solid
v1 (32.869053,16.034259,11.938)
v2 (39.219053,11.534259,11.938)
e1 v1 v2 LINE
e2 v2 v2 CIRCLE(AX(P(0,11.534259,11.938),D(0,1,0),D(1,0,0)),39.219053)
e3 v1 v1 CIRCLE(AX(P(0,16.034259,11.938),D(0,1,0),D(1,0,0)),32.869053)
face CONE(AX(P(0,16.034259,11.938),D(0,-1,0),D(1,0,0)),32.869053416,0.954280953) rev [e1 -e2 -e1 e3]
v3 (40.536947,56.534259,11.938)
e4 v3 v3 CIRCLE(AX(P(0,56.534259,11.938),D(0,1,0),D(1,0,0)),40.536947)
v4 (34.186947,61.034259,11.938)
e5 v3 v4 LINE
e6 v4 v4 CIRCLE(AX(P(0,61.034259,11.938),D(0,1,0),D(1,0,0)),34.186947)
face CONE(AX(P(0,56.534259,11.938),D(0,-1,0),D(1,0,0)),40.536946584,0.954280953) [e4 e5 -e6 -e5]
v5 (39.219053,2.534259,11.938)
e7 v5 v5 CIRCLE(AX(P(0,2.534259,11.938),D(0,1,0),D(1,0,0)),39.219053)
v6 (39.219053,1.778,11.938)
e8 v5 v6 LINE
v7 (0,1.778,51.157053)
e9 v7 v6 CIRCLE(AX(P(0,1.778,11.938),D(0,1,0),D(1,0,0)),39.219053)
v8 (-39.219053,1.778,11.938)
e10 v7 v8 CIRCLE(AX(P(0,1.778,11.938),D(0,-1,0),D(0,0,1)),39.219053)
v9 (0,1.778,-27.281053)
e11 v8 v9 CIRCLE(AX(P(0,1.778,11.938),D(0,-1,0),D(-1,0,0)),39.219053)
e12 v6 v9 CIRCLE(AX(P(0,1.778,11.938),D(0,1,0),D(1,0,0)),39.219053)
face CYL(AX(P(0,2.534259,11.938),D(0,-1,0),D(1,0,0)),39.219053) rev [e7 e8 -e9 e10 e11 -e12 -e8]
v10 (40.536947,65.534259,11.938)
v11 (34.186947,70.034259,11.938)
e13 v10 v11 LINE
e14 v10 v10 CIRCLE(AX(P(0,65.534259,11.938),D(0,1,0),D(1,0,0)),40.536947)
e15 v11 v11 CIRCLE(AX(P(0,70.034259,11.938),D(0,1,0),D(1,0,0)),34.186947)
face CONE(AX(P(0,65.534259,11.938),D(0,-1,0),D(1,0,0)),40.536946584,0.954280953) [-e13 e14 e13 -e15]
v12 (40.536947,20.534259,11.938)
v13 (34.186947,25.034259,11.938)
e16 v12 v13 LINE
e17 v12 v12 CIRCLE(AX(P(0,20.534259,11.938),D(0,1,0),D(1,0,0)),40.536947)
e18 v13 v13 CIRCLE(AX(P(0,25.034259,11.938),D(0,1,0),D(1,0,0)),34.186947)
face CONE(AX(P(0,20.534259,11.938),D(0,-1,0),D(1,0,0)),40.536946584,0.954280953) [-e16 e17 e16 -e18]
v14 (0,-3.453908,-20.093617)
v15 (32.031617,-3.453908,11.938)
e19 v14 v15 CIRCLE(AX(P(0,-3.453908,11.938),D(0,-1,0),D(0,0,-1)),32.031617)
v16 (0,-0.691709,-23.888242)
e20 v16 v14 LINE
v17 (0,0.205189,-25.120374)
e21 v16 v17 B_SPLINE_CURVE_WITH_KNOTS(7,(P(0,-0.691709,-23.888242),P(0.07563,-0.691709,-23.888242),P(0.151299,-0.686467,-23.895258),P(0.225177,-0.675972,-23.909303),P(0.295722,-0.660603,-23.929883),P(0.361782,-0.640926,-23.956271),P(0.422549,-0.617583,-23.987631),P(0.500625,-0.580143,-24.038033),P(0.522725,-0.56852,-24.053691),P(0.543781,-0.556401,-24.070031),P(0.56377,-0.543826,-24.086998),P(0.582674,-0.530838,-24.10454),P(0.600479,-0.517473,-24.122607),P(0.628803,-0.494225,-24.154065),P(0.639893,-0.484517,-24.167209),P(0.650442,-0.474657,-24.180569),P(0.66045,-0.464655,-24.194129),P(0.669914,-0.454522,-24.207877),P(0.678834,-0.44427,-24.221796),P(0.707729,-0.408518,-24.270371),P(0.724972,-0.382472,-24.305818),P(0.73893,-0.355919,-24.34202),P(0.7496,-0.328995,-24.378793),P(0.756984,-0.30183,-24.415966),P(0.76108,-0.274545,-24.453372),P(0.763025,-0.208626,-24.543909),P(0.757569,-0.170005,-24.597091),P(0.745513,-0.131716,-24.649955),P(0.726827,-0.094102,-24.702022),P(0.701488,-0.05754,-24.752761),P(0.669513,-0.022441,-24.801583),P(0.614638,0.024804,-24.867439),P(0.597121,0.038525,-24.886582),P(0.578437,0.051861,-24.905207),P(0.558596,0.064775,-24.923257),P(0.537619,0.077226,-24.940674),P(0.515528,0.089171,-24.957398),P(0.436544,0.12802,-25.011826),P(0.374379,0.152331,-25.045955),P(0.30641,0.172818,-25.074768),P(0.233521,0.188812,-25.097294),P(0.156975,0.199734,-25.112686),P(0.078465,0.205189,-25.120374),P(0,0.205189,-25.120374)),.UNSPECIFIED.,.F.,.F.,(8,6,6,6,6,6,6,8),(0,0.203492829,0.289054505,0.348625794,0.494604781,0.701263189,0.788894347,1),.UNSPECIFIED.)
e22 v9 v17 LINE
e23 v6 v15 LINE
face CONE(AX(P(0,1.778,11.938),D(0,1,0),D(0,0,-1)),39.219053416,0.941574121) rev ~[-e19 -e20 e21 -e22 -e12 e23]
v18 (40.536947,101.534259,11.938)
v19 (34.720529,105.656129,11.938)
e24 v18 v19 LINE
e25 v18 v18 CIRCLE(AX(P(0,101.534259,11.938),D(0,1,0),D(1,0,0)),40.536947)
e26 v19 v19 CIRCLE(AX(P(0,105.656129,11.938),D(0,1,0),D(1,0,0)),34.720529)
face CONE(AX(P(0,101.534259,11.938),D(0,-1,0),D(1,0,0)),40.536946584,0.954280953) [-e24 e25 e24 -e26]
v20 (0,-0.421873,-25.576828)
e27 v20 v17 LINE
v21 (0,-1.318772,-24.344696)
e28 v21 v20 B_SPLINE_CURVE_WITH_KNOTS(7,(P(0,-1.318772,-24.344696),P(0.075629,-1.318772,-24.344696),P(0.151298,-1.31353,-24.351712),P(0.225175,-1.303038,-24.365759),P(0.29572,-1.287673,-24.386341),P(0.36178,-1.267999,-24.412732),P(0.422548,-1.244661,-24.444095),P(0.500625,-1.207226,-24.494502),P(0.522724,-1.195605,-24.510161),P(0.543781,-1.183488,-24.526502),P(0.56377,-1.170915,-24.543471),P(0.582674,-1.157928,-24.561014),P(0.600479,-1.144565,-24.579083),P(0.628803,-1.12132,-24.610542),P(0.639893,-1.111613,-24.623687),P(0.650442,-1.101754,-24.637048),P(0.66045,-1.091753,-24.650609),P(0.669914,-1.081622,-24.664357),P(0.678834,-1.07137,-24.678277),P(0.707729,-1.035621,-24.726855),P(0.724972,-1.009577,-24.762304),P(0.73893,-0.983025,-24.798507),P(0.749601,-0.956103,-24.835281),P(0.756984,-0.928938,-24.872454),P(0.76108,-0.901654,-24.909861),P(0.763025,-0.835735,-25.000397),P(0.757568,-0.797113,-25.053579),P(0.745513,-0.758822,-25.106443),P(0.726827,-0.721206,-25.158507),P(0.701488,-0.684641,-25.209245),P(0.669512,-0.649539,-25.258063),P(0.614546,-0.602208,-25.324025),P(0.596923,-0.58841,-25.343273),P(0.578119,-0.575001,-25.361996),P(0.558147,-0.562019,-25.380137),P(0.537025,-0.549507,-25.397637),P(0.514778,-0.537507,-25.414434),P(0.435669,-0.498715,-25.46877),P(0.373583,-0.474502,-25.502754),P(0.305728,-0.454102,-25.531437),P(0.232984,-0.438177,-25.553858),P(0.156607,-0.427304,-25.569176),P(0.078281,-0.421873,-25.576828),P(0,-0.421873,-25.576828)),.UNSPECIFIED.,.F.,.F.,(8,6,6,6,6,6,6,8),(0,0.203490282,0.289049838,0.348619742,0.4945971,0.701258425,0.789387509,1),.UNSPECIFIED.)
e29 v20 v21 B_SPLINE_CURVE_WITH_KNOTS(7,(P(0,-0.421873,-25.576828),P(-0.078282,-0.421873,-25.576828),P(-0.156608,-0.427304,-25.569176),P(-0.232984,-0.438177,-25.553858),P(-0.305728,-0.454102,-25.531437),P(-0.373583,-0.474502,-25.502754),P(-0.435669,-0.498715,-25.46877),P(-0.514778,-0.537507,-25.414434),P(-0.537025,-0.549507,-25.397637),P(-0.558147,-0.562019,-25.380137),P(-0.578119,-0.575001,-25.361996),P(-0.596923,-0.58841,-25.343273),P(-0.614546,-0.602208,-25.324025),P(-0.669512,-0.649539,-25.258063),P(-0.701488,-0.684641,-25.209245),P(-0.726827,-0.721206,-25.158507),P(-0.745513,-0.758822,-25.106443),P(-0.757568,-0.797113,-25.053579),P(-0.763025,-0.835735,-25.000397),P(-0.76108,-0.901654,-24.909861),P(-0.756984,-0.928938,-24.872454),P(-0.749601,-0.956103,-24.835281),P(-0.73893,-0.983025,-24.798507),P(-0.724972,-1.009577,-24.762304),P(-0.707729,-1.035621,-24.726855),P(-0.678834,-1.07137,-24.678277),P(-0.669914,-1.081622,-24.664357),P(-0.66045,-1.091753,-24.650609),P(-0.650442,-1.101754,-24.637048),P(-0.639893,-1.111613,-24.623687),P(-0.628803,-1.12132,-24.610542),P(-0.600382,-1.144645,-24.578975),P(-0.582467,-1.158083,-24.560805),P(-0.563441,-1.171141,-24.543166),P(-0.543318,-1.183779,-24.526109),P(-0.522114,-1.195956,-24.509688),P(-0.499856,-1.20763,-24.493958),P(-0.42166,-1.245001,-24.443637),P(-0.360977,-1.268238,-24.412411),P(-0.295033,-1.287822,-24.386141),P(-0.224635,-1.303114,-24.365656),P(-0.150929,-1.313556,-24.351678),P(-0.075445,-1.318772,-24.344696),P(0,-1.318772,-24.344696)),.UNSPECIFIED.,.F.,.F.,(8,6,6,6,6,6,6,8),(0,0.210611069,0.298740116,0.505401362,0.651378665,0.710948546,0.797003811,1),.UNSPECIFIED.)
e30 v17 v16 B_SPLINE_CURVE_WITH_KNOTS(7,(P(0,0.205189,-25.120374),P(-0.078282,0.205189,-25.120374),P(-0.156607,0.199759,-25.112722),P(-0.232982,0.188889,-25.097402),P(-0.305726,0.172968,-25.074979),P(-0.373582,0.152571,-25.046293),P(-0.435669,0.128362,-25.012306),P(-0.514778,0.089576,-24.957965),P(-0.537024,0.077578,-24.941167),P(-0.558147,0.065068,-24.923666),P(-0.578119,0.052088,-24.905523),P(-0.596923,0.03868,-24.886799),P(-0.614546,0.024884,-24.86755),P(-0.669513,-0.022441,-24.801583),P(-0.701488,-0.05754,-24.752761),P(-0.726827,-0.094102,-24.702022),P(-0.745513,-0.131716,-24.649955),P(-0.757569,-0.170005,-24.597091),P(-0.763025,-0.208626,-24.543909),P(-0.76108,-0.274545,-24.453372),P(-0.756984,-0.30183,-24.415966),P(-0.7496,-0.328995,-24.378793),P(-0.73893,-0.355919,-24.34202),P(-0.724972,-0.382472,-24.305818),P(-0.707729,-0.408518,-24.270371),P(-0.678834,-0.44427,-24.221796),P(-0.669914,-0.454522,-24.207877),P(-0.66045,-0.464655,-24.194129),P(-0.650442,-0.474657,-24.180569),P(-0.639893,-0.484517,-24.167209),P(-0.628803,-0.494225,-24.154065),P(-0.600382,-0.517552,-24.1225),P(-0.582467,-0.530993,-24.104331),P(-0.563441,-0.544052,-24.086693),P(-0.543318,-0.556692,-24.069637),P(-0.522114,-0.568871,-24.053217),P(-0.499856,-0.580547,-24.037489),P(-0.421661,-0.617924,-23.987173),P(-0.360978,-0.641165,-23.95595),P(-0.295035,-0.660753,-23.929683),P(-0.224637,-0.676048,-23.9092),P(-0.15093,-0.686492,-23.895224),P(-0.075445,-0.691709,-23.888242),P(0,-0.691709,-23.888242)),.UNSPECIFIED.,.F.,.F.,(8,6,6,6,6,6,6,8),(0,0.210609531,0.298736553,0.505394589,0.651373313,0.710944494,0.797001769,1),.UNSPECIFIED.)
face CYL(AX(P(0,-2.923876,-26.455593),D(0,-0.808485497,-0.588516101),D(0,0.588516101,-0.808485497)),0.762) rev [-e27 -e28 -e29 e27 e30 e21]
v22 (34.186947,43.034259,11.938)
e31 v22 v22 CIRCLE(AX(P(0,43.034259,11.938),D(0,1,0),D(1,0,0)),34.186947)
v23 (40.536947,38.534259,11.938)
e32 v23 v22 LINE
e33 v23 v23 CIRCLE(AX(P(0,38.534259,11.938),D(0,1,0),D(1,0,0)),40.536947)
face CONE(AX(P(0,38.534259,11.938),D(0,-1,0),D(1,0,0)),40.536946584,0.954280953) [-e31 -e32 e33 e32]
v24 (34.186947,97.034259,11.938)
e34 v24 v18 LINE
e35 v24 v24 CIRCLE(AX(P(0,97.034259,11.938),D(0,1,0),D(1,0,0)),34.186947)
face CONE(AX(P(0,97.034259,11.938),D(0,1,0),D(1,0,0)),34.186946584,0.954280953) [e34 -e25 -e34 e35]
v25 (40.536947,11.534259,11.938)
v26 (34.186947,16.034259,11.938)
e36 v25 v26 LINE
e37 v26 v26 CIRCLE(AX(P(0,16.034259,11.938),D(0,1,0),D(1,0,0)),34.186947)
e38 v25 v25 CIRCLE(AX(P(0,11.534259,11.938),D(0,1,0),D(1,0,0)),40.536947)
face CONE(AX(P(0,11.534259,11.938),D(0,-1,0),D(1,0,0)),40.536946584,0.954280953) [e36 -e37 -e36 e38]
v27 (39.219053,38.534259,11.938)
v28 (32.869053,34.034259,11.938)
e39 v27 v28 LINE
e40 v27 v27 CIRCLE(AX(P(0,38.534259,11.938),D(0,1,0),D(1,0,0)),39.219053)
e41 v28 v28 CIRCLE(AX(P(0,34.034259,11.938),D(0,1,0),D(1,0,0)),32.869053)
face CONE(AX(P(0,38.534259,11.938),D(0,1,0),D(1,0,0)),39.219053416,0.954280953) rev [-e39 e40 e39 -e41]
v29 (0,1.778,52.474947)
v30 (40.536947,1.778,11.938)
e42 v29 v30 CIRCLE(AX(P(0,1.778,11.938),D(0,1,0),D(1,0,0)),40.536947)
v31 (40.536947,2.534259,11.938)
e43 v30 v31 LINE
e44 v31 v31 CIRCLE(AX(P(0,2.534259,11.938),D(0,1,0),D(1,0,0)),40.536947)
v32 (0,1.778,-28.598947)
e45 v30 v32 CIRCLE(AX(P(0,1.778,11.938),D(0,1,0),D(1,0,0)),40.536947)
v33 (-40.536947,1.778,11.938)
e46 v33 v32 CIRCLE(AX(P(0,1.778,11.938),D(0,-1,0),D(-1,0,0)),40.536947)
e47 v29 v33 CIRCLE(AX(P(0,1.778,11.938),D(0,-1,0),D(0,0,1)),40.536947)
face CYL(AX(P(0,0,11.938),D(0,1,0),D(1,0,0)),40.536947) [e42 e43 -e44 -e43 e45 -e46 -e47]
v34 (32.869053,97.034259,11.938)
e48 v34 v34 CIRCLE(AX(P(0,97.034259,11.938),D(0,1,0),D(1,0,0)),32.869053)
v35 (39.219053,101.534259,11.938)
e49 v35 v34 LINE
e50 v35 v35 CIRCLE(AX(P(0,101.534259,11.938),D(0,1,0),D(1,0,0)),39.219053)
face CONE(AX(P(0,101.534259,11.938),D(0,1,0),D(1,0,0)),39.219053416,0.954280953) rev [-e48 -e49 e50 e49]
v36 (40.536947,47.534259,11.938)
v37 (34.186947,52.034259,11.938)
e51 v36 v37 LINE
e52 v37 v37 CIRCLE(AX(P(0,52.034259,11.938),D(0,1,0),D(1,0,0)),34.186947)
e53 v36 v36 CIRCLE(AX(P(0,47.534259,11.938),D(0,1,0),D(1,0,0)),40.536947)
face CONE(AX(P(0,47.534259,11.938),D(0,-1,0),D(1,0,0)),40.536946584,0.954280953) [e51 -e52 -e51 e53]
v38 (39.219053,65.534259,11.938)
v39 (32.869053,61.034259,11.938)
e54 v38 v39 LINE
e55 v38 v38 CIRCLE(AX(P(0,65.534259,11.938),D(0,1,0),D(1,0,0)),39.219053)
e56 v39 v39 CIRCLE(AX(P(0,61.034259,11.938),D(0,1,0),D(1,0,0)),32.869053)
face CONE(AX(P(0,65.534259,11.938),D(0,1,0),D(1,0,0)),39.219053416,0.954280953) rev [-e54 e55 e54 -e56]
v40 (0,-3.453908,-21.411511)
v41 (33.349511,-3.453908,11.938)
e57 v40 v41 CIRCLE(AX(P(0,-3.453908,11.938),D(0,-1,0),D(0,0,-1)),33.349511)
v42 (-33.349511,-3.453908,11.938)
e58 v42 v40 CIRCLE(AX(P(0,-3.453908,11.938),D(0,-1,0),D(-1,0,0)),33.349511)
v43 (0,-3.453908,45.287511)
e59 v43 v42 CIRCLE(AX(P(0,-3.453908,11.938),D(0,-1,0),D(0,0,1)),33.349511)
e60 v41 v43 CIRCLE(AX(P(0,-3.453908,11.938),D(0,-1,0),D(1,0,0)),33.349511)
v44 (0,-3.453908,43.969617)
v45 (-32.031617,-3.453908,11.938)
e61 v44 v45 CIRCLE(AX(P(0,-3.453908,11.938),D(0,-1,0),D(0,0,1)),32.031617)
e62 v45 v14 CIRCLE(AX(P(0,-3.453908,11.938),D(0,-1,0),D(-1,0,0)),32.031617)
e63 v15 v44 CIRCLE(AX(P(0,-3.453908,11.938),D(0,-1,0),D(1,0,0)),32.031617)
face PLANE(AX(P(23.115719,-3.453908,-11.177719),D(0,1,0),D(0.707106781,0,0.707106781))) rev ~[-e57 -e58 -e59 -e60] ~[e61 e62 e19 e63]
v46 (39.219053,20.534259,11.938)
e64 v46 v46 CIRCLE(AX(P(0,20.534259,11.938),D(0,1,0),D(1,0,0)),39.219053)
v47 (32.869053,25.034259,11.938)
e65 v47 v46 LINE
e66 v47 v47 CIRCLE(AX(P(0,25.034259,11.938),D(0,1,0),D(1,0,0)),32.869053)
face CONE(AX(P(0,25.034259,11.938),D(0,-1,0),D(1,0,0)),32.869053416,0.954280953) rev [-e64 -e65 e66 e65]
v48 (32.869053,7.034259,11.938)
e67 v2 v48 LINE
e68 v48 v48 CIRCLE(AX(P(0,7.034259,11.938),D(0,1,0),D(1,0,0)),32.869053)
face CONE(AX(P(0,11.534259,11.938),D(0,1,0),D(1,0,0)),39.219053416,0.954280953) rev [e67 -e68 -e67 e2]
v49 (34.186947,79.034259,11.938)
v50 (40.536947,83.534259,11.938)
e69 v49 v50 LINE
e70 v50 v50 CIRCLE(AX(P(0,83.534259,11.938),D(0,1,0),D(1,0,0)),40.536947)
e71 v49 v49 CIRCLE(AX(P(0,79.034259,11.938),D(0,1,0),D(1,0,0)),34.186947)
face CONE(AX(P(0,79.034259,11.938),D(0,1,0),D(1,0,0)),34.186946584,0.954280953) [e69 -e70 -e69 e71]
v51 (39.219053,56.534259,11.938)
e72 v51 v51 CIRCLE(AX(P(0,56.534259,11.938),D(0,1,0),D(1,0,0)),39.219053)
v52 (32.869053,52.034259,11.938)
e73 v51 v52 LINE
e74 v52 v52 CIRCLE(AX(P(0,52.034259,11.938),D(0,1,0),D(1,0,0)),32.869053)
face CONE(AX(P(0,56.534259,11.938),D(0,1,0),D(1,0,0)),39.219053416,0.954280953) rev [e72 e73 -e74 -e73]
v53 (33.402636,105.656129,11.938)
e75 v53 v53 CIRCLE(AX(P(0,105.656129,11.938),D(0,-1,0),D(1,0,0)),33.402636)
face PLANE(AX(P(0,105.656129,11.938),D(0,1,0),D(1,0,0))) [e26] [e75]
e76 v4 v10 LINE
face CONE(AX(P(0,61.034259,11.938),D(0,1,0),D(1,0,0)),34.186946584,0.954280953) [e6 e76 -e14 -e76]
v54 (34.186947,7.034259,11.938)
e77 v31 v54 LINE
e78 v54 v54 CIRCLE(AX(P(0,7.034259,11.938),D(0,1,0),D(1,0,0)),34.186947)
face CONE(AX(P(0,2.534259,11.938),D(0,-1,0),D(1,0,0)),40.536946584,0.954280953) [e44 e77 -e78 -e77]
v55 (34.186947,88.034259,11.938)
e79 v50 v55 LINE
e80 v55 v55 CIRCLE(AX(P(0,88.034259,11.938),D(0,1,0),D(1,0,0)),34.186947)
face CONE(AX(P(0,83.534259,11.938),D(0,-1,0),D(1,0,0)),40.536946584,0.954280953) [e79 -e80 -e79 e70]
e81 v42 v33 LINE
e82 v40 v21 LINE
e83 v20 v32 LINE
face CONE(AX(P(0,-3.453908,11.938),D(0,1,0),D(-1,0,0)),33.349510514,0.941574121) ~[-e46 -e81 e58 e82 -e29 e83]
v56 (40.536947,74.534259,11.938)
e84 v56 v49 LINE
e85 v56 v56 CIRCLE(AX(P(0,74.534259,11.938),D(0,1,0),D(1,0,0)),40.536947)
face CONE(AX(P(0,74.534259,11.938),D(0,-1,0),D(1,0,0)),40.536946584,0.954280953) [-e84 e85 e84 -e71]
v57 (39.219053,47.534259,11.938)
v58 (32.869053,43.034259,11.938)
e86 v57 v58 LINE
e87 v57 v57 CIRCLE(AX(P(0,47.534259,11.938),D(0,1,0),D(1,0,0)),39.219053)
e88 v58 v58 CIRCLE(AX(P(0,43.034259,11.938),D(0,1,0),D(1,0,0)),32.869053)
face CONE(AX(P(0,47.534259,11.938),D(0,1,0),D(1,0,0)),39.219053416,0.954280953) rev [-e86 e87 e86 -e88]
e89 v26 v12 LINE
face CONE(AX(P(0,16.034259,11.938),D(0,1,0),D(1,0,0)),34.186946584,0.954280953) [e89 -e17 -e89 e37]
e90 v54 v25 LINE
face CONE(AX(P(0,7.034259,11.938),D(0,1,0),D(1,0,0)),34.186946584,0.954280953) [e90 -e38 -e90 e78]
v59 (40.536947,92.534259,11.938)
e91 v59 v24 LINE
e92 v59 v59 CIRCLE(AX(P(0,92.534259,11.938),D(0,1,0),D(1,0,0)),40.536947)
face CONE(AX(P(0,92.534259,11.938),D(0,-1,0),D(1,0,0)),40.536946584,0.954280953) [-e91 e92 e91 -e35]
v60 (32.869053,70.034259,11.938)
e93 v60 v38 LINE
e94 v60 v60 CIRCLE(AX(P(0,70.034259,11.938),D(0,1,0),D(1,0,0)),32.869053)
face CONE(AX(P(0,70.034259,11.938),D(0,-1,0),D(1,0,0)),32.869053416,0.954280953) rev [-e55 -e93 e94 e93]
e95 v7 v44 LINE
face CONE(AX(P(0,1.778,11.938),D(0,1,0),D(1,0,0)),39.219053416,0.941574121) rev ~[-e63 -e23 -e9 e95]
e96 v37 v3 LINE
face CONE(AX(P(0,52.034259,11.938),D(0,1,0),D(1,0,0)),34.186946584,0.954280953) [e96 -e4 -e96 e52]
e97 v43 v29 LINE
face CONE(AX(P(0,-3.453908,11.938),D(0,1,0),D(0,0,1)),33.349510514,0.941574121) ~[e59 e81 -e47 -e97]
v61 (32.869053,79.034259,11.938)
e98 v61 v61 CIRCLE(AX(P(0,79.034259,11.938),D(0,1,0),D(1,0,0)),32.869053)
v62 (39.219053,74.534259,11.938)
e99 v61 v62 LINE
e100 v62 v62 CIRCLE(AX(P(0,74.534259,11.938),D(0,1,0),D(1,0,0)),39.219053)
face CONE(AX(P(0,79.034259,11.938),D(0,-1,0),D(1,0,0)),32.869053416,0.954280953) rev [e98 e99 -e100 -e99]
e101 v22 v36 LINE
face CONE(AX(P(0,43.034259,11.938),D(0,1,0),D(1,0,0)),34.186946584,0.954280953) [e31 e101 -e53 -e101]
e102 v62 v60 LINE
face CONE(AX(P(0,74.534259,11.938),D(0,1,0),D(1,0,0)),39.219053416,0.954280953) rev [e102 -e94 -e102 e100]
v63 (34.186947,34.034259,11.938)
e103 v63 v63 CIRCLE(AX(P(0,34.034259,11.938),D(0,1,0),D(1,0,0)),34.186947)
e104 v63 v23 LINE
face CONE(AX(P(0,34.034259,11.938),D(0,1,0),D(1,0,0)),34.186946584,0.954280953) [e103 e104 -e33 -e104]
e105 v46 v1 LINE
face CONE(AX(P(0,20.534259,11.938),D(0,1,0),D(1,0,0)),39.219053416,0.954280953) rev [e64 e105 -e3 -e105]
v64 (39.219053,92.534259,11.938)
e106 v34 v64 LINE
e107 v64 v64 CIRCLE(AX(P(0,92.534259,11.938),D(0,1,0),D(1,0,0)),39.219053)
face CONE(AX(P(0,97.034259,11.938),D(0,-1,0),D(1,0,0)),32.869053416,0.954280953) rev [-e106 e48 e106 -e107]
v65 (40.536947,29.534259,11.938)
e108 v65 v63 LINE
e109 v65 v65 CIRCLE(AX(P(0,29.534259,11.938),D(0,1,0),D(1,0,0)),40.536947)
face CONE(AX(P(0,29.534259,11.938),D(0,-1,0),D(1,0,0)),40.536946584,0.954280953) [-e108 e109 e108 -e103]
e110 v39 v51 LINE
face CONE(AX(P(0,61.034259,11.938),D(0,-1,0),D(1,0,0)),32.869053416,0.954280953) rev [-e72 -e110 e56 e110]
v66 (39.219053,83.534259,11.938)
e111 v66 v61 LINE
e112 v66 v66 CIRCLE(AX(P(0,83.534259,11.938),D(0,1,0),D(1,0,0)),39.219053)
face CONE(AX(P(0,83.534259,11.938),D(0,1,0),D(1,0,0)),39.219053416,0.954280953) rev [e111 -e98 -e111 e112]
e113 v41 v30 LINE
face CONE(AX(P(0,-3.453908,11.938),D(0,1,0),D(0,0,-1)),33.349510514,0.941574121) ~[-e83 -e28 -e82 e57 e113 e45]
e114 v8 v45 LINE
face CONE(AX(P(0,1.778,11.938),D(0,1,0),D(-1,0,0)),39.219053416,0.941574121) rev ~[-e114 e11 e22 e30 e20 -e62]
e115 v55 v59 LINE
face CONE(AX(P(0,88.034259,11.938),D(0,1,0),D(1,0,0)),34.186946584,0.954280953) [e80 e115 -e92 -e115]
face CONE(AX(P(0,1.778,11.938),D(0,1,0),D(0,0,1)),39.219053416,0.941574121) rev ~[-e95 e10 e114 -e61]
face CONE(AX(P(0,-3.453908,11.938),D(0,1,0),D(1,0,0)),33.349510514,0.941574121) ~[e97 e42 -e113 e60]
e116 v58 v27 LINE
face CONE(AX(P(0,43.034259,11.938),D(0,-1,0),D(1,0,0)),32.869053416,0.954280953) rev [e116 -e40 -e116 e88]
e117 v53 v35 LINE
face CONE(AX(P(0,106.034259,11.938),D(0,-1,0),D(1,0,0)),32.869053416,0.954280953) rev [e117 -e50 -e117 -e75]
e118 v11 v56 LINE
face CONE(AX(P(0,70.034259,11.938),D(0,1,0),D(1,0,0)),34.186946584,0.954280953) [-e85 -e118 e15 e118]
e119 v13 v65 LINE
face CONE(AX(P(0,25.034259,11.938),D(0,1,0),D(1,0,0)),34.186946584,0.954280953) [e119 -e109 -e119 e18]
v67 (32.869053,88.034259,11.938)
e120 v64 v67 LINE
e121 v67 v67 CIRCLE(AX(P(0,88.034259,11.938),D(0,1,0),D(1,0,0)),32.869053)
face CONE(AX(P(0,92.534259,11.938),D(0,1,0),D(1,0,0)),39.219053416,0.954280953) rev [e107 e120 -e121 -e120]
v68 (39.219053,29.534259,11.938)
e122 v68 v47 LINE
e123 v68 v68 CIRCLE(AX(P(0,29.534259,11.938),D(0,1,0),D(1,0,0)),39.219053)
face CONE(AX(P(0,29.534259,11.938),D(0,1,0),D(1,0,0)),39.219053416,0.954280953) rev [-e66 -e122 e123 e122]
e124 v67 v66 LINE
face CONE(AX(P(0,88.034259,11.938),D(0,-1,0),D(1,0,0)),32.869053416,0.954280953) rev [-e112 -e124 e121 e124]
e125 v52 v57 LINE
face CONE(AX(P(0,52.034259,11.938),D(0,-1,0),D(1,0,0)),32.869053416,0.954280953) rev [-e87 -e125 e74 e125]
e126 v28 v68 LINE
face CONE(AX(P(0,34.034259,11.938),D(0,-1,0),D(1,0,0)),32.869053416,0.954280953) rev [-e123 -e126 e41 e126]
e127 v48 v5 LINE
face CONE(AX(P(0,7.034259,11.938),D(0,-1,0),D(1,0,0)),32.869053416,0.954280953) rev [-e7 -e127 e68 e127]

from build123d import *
from build123d.topology import SkipClean

# Parameters (mm, degrees)
SKETCH1_R               = 1.016
SKETCH1_R_2             = 1.5875
SKETCH1_W               = 30.226
SKETCH1_H               = 1.016
BOSS_EXTRUDE1_DEPTH     = 1.778
CUT_EXTRUDE1_DEPTH      = 220.775953397
CUT_EXTRUDE1_DEPTH_BACK = 220.775953397
CUT_EXTRUDE2_DEPTH      = 2.54
CUT_EXTRUDE2_DEPTH_BACK = 2.54
SKETCH10_R              = 0.762
SKETCH13_R              = 43.703973106
CUT_EXTRUDE4_DEPTH      = 126


with BuildPart() as part:
    # Sketch1 → Boss-Extrude1 (new body)
    with BuildSketch(Plane(origin=(0, 0, 0), x_dir=(1, 0, 0), z_dir=(0, 1, 0))):
        with BuildLine():
            Line((19.797340731, -27.686), (33.875449694, -3.302))
            ThreePointArc((33.875449694, -3.302), (33.875449694, 19.558), (14.078108964, 30.988))
            Line((14.078108964, 30.988), (-14.078108964, 30.988))
            ThreePointArc((-14.078108964, 30.988), (-33.875449694, 19.558), (-33.875449694, -3.302))
            Line((-33.875449694, -3.302), (-19.797340731, -27.686))
            ThreePointArc((-19.797340731, -27.686), (0, -39.116), (19.797340731, -27.686))
        make_face()
        with Locations((0, 10.668)):
            Circle(SKETCH1_R, mode=Mode.SUBTRACT)
        with Locations((9.238759008, -5.334)):
            Circle(SKETCH1_R, mode=Mode.SUBTRACT)
        with Locations((-9.238759008, -5.334)):
            Circle(SKETCH1_R, mode=Mode.SUBTRACT)
        Circle(SKETCH1_R_2, mode=Mode.SUBTRACT)
        with Locations((0, 27.94)):
            Rectangle(SKETCH1_W, SKETCH1_H, mode=Mode.SUBTRACT)
        Polygon((32.193190687, -1.135758073), (31.313308877, -0.627758073), (16.200308877, -26.804241927), (17.080190687, -27.312241927), align=None, mode=Mode.SUBTRACT)
        Polygon((-17.080190687, -27.312241927), (-16.200308877, -26.804241927), (-31.313308877, -0.627758073), (-32.193190687, -1.135758073), align=None, mode=Mode.SUBTRACT)
    extrude(amount=BOSS_EXTRUDE1_DEPTH)

    # Sweep1: sweep along a path in Sketch3
    with BuildLine(Plane(origin=(0, 1.778, 0), x_dir=(1, 0, 0), z_dir=(0, 1, 0))) as sweep1_path:
        CenterArc((0, -11.938), 39.878, 0, 360)
    # Sketch4 → Sweep1 (sweep)
    with BuildSketch(Plane(origin=(0, 0, 0), x_dir=(0, 0, -1), z_dir=(1, 0, 0))):
        Polygon((28.598946584, 0), (28.598946584, 2.534258856), (22.248946584, 7.034258856), (28.598946584, 11.534258856), (22.248946584, 16.034258856), (28.598946584, 20.534258856), (22.248946584, 25.034258856), (28.598946584, 29.534258856), (22.248946584, 34.034258856), (28.598946584, 38.534258856), (22.248946584, 43.034258856), (28.598946584, 47.534258856), (22.248946584, 52.034258856), (28.598946584, 56.534258856), (22.248946584, 61.034258856), (28.598946584, 65.534258856), (22.248946584, 70.034258856), (28.598946584, 74.534258856), (22.248946584, 79.034258856), (28.598946584, 83.534258856), (22.248946584, 88.034258856), (28.598946584, 92.534258856), (22.248946584, 97.034258856), (28.598946584, 101.534258856), (22.248946584, 106.034258856), (28.598946584, 110.534258856), (22.248946584, 115.034258856), (28.598946584, 119.534258856), (22.248946584, 124.034258856), (28.598946584, 128.534258856), (22.248946584, 133.034258856), (28.598946584, 137.534258856), (22.248946584, 142.034258856), (28.598946584, 146.534258856), (22.248946584, 151.034258856), (28.598946584, 155.534258856), (22.248946584, 160.034258856), (28.598946584, 164.534258856), (22.248946584, 169.034258856), (28.598946584, 173.534258856), (22.248946584, 178.034258856), (28.598946584, 182.534258856), (22.248946584, 187.034258856), (28.598946584, 191.534258856), (22.248946584, 196.034258856), (28.598946584, 200.534258856), (22.248946584, 205.034258856), (28.598946584, 209.534258856), (27.281053416, 209.534258856), (20.931053416, 205.034258856), (27.281053416, 200.534258856), (20.931053416, 196.034258856), (27.281053416, 191.534258856), (20.931053416, 187.034258856), (27.281053416, 182.534258856), (20.931053416, 178.034258856), (27.281053416, 173.534258856), (20.931053416, 169.034258856), (27.281053416, 164.534258856), (20.931053416, 160.034258856), (27.281053416, 155.534258856), (20.931053416, 151.034258856), (27.281053416, 146.534258856), (20.931053416, 142.034258856), (27.281053416, 137.534258856), (20.931053416, 133.034258856), (27.281053416, 128.534258856), (20.931053416, 124.034258856), (27.281053416, 119.534258856), (20.931053416, 115.034258856), (27.281053416, 110.534258856), (20.931053416, 106.034258856), (27.281053416, 101.534258856), (20.931053416, 97.034258856), (27.281053416, 92.534258856), (20.931053416, 88.034258856), (27.281053416, 83.534258856), (20.931053416, 79.034258856), (27.281053416, 74.534258856), (20.931053416, 70.034258856), (27.281053416, 65.534258856), (20.931053416, 61.034258856), (27.281053416, 56.534258856), (20.931053416, 52.034258856), (27.281053416, 47.534258856), (20.931053416, 43.034258856), (27.281053416, 38.534258856), (20.931053416, 34.034258856), (27.281053416, 29.534258856), (20.931053416, 25.034258856), (27.281053416, 20.534258856), (20.931053416, 16.034258856), (27.281053416, 11.534258856), (20.931053416, 7.034258856), (27.281053416, 2.534258856), (27.281053416, 0), align=None)
    sweep(path=sweep1_path.line)

    # Sketch5 → Cut-Extrude1 (cut, two sides: drawn at the far end of the back side and taken through both)
    with BuildSketch(Plane(origin=(0, 0, 0), x_dir=(0, 0, -1), z_dir=(1, 0, 0)).offset(-CUT_EXTRUDE1_DEPTH_BACK)):
        Polygon((-3.302, 1.778), (53.644453892, 1.778), (53.644453892, 0), (-109.531045718, -2.438778333), (-109.531045718, 1.778), (-27.686, 1.778), align=None)
    extrude(amount=CUT_EXTRUDE1_DEPTH + CUT_EXTRUDE1_DEPTH_BACK, mode=Mode.SUBTRACT)

    # Sweep2: sweep along a curve in space
    with BuildLine() as sweep2_path:
        ThreePointArc((0, 1.778, -28.598946584), (28.663949818, 1.778, -16.725949818), (40.536946584, 1.778, 11.938))
        ThreePointArc((40.536946584, 1.778, 11.938), (28.663949818, 1.778, 40.601949818), (0, 1.778, 52.474946584))
        ThreePointArc((0, 1.778, 52.474946584), (-28.663949818, 1.778, 40.601949818), (-40.536946584, 1.778, 11.938))
        ThreePointArc((-40.536946584, 1.778, 11.938), (-28.663949818, 1.778, -16.725949818), (0, 1.778, -28.598946584))
    # Sketch8 → Sweep2 (sweep)
    with BuildSketch(Plane(origin=(0, 0, 0), x_dir=(0, 0, -1), z_dir=(1, 0, 0))):
        Polygon((27.281053416, 1.778), (20.093617346, -3.453908136), (21.411510514, -3.453908136), (28.598946584, 1.778), align=None)
    sweep(path=sweep2_path.line)

    # Sketch12 → Revolve1 (revolve)
    with BuildSketch(Plane(origin=(0, 0, 0), x_dir=(0, 0, -1), z_dir=(1, 0, 0))):
        Polygon((28.598946584, 1.778), (27.281053416, 1.778), (20.093617346, -3.453908136), (21.411510514, -3.453908136), align=None)
        Polygon((20.093617346, 214.766166991), (21.411510514, 214.766166991), (28.598946584, 209.534258856), (27.281053416, 208.600318815), (27.281053416, 209.534258856), align=None)
    revolve(axis=Axis((0, 209.534258856, 11.938), (0, 1, 0)))

    # Sketch10 → Cut-Extrude2 (cut, two sides: drawn at the far end of the back side and taken through both)
    with SkipClean():  # the faces are left unmerged after this step: merging them gives an invalid solid
        with BuildSketch(Plane(origin=(0, -12.445383757, -9.059295122), x_dir=(1, 0, 0), z_dir=(0, 0.8084854971869895, 0.5885161007468755)).offset(-CUT_EXTRUDE2_DEPTH_BACK)):
            with Locations((0, 19.668215175)):
                Circle(SKETCH10_R)
        extrude(amount=CUT_EXTRUDE2_DEPTH + CUT_EXTRUDE2_DEPTH_BACK, mode=Mode.SUBTRACT)

    # Sketch13 → Cut-Extrude4 (cut)
    with SkipClean():  # the faces are left unmerged after this step: merging them gives an invalid solid
        with BuildSketch(Plane(origin=(0, 105.656129428, 0), x_dir=(1, 0, 0), z_dir=(0, 1, 0))):
            with Locations((0, -11.938)):
                Circle(SKETCH13_R)
        extrude(amount=CUT_EXTRUDE4_DEPTH, mode=Mode.SUBTRACT)


solid = part.part
